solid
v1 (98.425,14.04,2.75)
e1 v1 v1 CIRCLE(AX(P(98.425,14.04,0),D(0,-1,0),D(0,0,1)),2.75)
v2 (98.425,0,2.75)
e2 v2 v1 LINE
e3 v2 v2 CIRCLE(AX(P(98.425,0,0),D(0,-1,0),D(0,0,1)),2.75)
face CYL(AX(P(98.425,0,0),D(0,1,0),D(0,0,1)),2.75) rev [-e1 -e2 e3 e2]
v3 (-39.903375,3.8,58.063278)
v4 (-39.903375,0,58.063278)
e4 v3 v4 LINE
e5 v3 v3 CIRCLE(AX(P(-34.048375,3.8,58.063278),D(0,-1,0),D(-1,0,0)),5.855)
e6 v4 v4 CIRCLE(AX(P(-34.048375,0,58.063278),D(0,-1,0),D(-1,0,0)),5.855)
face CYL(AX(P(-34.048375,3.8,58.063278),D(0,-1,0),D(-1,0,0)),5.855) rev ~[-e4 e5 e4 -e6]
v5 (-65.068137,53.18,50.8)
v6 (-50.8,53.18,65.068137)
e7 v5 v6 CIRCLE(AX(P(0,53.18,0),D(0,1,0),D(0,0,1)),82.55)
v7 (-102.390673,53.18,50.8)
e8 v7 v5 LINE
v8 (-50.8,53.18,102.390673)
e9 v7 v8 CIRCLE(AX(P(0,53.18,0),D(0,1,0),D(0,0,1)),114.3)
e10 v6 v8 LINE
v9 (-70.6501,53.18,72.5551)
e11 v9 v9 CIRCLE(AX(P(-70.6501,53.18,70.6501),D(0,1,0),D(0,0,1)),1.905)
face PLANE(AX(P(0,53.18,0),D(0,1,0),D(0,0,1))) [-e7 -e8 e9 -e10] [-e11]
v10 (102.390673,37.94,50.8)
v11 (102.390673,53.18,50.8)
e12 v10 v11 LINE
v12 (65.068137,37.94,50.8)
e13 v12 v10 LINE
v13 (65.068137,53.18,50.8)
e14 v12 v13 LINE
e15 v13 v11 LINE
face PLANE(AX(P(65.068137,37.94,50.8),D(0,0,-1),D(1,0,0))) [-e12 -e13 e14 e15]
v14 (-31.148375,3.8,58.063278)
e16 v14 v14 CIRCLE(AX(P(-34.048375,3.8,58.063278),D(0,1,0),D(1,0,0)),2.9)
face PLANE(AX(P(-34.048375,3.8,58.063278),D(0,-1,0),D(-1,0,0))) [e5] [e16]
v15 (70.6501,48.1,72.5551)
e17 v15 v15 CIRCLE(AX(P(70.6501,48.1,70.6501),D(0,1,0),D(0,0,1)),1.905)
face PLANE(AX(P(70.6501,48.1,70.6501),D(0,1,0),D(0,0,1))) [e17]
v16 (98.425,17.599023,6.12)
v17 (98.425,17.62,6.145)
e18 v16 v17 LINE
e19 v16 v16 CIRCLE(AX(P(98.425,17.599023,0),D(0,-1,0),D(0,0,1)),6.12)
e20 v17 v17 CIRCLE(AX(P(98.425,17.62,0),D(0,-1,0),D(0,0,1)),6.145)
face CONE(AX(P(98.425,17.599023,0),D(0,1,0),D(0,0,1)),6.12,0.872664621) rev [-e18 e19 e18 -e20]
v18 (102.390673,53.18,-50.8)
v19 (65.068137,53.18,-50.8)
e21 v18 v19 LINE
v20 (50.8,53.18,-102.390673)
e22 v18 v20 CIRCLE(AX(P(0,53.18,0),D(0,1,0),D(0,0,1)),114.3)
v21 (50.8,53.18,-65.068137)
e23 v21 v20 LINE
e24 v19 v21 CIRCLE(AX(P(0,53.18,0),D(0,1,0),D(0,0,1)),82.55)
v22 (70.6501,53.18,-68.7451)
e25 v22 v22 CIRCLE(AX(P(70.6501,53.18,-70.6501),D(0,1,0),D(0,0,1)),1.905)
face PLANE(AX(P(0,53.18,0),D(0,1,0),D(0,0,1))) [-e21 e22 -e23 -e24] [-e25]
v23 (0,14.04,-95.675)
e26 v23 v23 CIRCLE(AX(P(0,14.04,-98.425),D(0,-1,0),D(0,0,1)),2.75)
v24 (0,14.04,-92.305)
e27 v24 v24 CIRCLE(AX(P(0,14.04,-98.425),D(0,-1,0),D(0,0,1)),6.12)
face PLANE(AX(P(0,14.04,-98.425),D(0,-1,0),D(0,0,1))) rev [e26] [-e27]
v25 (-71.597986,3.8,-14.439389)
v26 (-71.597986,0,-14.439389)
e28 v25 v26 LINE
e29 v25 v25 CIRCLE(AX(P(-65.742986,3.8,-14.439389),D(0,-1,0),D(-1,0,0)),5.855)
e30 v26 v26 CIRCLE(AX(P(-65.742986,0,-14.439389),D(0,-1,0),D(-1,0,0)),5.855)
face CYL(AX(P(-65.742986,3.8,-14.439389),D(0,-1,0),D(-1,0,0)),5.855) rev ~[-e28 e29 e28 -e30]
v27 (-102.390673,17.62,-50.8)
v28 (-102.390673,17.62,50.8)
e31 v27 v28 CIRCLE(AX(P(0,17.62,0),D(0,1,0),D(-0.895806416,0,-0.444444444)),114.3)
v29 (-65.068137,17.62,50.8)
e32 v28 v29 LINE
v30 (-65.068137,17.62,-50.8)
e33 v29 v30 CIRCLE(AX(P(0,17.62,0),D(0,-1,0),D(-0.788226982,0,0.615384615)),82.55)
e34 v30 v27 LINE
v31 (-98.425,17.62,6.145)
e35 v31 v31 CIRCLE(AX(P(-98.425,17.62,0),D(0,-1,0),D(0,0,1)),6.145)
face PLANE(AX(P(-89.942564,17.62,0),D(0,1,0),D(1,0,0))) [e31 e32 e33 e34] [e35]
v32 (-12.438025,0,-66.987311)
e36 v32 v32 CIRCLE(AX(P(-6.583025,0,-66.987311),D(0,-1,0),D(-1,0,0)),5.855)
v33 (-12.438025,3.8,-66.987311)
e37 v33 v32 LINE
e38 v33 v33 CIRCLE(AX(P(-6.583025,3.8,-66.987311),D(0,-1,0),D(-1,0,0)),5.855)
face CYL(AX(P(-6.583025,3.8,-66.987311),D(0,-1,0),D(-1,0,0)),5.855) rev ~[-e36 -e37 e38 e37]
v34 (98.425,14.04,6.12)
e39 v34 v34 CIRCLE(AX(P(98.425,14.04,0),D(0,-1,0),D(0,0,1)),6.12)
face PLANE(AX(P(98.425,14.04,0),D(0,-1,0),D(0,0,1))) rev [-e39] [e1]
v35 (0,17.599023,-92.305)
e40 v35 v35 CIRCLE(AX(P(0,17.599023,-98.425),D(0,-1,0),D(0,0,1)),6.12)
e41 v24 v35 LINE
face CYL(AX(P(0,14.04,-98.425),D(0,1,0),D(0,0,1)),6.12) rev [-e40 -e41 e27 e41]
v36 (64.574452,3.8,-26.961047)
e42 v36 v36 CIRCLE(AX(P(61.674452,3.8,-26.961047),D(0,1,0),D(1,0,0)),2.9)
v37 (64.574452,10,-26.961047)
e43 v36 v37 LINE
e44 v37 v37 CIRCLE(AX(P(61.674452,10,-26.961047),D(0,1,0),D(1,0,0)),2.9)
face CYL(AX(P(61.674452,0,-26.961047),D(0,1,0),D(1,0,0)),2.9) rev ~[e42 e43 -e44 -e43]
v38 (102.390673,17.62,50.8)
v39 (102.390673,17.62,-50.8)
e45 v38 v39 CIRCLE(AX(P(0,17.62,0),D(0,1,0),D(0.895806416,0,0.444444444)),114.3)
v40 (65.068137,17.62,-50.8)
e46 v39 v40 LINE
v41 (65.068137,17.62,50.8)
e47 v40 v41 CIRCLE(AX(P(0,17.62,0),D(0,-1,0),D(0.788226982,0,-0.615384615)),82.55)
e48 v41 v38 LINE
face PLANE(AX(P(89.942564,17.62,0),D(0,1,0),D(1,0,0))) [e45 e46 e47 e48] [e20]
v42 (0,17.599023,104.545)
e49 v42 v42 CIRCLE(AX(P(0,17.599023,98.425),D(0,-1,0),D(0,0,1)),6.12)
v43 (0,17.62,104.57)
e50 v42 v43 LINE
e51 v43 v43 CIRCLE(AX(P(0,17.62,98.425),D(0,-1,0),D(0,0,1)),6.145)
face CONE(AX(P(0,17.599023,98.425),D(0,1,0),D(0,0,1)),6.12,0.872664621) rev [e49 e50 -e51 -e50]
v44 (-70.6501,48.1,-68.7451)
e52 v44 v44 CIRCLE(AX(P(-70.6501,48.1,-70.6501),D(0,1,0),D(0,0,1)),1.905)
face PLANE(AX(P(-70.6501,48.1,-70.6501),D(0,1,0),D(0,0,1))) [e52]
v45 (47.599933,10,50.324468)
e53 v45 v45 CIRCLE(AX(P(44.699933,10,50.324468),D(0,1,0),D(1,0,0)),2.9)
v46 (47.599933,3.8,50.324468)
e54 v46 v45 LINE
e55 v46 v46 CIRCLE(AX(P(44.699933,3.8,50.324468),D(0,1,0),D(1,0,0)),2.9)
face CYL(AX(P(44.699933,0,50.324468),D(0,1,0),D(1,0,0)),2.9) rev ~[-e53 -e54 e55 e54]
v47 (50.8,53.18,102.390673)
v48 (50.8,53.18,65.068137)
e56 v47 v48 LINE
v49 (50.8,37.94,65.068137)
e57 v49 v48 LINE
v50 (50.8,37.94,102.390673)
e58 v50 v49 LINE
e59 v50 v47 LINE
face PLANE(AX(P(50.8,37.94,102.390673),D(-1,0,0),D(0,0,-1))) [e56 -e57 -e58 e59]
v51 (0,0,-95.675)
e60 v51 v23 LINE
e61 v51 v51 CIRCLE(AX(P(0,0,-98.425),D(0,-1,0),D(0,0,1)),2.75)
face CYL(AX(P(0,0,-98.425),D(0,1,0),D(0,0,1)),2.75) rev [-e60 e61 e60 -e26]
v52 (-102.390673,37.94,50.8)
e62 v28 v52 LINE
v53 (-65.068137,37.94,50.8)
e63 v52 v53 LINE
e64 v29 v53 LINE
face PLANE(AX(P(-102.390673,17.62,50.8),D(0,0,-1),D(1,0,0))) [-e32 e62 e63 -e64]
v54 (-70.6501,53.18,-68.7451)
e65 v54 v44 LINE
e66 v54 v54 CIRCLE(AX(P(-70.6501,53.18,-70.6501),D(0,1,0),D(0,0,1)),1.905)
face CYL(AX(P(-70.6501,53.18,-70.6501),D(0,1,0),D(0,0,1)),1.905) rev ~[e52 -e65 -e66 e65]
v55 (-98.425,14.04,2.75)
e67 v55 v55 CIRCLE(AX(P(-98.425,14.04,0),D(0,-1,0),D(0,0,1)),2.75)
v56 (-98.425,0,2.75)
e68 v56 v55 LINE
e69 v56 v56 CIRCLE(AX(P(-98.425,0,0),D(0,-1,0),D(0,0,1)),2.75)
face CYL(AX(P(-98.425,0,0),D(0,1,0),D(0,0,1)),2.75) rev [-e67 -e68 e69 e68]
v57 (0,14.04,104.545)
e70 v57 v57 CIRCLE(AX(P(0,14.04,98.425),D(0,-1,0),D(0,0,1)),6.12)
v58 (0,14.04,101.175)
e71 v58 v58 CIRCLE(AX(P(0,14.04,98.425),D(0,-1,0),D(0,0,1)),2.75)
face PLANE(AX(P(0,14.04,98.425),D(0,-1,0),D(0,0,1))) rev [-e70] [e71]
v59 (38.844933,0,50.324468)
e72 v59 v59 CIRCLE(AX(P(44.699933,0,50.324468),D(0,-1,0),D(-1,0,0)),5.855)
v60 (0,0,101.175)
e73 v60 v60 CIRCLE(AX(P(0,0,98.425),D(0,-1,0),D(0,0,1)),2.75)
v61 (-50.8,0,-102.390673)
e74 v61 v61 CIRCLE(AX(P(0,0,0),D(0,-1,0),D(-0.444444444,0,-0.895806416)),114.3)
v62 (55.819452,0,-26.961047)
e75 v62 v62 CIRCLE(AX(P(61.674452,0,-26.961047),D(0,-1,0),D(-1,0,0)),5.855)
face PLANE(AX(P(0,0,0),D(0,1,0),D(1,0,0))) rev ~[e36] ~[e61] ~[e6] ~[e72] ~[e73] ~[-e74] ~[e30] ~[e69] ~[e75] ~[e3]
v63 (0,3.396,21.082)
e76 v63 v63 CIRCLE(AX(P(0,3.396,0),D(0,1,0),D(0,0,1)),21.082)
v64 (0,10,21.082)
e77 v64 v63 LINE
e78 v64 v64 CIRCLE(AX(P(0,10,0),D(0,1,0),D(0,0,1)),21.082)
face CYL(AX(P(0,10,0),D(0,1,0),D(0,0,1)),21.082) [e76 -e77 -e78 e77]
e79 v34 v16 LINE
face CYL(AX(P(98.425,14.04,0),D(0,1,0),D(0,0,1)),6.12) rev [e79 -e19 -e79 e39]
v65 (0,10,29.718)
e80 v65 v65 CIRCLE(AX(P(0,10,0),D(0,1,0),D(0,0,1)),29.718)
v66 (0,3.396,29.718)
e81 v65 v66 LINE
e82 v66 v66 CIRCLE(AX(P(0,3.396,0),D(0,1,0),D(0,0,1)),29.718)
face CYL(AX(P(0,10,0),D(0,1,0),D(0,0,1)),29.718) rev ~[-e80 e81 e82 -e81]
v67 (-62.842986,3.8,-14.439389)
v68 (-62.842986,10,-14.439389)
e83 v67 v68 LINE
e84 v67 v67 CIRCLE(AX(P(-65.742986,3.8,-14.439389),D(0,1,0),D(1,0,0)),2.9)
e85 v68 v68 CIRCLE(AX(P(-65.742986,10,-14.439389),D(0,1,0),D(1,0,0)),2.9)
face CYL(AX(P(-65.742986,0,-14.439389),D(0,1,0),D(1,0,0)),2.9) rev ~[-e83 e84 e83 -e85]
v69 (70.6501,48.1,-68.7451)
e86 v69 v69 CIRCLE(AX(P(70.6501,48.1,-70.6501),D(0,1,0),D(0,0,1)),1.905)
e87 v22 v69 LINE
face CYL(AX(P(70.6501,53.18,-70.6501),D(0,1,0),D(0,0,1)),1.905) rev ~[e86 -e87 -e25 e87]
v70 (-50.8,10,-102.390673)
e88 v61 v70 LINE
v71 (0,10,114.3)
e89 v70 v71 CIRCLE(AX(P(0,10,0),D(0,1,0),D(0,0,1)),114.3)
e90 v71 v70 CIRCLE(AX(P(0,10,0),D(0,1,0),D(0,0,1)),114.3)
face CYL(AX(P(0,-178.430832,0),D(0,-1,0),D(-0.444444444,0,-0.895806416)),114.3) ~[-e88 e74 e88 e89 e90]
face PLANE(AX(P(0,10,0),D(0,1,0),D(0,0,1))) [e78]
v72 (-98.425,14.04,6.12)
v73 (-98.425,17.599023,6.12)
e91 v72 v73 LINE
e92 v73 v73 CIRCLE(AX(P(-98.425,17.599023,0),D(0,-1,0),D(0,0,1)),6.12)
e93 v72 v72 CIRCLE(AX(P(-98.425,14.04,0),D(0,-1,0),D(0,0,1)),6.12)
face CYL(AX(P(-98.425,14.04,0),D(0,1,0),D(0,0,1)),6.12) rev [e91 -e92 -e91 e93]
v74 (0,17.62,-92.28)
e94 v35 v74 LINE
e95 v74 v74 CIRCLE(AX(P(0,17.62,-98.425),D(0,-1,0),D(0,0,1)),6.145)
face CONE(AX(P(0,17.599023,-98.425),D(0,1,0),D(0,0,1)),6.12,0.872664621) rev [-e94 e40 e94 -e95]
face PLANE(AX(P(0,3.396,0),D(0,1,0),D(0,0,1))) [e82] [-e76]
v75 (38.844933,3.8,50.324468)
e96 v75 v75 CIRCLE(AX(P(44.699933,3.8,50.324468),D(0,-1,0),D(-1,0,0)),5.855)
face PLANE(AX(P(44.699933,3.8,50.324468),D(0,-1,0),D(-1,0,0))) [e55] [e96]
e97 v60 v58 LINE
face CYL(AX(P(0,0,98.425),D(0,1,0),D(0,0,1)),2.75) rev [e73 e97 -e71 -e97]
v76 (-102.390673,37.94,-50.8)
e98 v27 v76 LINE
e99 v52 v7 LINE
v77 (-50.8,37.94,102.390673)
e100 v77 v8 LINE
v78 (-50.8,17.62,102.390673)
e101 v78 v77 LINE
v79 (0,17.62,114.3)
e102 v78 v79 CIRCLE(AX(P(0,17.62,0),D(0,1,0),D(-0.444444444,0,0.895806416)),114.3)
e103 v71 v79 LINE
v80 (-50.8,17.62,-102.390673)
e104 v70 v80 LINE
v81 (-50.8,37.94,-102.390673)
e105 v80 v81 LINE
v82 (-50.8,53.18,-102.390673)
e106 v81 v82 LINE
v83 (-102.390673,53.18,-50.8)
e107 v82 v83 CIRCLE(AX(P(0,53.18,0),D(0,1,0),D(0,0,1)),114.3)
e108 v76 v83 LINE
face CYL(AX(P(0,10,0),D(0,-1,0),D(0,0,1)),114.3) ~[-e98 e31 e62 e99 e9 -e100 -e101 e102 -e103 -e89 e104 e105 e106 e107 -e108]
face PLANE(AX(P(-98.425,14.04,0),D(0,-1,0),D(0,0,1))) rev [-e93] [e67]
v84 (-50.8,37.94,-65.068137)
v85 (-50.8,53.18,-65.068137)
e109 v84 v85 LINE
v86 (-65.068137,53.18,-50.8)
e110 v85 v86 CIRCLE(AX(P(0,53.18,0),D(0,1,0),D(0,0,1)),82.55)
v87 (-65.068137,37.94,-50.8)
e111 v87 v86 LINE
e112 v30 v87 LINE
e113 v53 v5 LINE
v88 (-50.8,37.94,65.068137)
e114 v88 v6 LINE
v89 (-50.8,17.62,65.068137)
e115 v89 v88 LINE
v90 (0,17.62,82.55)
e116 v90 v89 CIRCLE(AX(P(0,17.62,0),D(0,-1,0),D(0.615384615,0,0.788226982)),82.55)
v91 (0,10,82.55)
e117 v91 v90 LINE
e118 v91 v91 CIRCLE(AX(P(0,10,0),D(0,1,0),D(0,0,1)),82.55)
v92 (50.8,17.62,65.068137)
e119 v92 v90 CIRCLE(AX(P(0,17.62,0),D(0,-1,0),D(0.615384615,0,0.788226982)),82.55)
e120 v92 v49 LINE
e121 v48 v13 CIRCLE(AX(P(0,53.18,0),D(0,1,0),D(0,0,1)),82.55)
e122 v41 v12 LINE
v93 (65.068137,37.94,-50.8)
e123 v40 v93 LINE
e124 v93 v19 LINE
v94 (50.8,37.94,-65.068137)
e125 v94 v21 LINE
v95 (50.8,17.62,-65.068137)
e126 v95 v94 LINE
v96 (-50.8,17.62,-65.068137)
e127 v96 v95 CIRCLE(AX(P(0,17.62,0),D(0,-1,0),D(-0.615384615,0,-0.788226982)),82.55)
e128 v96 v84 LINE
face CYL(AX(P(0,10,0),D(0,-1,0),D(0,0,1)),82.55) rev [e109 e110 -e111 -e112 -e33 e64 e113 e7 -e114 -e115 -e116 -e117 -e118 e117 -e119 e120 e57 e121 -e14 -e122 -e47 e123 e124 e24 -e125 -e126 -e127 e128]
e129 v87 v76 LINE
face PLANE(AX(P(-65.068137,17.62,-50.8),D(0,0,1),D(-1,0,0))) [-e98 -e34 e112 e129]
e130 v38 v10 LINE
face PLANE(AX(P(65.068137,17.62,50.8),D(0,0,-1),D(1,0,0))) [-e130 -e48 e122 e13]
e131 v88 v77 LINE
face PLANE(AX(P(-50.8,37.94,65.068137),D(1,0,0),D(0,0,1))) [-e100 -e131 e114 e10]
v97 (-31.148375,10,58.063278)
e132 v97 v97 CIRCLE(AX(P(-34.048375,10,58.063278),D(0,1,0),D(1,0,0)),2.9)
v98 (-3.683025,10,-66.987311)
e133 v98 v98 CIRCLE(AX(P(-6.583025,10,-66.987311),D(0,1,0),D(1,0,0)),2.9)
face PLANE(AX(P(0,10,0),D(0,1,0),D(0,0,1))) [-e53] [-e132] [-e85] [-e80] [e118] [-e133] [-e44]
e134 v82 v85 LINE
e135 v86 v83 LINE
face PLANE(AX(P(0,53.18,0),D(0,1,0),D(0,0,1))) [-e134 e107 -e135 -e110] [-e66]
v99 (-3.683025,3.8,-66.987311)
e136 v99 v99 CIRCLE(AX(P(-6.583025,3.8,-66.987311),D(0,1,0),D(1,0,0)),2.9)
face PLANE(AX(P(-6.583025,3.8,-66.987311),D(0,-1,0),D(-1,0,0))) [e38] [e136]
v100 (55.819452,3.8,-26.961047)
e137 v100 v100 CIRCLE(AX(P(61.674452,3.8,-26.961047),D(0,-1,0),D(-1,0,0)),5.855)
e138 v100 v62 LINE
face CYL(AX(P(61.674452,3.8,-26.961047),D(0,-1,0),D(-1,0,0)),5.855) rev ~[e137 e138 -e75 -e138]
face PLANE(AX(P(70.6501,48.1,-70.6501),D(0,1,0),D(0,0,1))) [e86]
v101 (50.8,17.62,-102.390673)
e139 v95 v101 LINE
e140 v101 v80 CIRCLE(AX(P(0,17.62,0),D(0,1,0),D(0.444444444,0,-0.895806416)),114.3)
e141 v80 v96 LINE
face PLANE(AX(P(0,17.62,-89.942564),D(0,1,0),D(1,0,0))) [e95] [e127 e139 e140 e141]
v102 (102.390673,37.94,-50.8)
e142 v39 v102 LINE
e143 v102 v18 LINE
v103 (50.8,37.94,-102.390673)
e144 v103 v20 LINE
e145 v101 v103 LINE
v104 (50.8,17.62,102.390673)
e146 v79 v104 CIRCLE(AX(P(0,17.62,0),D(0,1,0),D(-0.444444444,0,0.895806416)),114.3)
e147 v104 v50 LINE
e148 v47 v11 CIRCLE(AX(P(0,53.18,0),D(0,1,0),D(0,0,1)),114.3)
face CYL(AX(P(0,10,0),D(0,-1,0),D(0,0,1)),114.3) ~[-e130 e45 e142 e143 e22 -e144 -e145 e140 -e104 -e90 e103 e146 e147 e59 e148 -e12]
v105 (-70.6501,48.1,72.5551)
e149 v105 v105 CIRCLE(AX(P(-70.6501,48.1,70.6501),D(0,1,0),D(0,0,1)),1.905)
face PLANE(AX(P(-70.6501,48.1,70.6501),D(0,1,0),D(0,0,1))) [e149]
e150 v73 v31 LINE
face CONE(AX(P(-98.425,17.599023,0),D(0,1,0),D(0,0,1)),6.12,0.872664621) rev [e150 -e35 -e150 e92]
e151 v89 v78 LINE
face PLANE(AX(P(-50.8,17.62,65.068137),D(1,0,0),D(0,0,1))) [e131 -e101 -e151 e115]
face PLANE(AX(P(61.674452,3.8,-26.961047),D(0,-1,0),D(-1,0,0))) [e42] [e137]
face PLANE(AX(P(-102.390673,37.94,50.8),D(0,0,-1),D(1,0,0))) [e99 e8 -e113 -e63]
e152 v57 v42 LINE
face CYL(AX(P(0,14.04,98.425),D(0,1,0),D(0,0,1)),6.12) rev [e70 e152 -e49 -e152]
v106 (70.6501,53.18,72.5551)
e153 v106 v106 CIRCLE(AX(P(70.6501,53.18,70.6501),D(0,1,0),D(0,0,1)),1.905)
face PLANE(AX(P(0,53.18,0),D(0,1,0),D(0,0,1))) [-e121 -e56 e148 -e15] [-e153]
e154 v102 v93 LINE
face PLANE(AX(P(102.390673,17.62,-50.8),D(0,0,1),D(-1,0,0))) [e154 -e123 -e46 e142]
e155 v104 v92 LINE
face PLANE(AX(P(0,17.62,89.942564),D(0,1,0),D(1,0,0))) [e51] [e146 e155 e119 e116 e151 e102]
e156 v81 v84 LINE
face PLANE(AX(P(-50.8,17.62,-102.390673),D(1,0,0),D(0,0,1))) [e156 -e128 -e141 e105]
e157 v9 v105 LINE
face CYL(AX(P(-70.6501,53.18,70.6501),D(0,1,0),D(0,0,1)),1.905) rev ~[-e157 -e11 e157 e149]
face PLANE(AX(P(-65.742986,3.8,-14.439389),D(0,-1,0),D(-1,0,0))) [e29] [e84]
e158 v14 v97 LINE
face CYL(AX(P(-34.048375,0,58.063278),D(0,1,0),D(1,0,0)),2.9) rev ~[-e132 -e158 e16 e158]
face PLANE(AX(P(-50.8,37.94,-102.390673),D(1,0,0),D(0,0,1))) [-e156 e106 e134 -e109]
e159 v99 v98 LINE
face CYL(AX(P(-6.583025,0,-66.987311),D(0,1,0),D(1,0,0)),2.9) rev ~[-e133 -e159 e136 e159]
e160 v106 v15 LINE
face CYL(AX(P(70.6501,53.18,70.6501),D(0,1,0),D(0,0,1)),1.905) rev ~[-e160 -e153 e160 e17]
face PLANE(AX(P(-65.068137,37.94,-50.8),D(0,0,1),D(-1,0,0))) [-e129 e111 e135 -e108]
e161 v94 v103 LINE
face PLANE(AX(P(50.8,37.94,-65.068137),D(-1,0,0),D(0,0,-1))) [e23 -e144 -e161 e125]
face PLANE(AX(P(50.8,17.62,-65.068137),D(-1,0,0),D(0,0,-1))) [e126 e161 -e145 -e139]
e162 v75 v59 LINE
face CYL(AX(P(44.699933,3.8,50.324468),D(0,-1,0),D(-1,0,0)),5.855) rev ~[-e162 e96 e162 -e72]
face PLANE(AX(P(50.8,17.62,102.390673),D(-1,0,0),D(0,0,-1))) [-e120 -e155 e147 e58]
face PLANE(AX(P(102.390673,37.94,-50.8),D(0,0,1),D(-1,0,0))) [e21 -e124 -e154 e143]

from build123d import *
from build123d.topology import SkipClean

# Parameters (mm, degrees)
SKETCH1_W                                        = 300
SKETCH1_H                                        = 300
BOSS_EXTRUDE1_DEPTH                              = 10
SKETCH2_R                                        = 127
BOSS_EXTRUDE2_DEPTH                              = 53.594
SKETCH4_R                                        = 122
CUT_EXTRUDE1_DEPTH                               = 3
CBORE_FOR_M6_HEX_HEAD_BOLT1_D                    = 6.6
CBORE_FOR_M6_HEX_HEAD_BOLT1_CBORE_D              = 14.55
CBORE_FOR_M6_HEX_HEAD_BOLT1_CBORE_DEPTH          = 4.38
FILLET1_R                                        = 10
FILLET2_R                                        = 2
SKETCH8_R                                        = 122
CUT_EXTRUDE2_DEPTH                               = 50.594
SKETCH10_R                                       = 114.3
SKETCH10_R_2                                     = 82.55
BOSS_EXTRUDE3_DEPTH                              = 43.18
CUT_EXTRUDE3_DEPTH                               = 25.4
CUT_EXTRUDE3_DEPTH_BACK                          = 15.24
SKETCH12_R                                       = 1.905
CUT_EXTRUDE4_DEPTH                               = 5.08
CBORE_FOR_M5_HEX_HEAD_MACHINE_SCREW1_D           = 5.8
CBORE_FOR_M5_HEX_HEAD_MACHINE_SCREW1_CBORE_D     = 11.71
CBORE_FOR_M5_HEX_HEAD_MACHINE_SCREW1_CBORE_DEPTH = 3.8
SKETCH16_R                                       = 29.718
SKETCH16_R_2                                     = 21.082
CUT_EXTRUDE5_DEPTH                               = 6.604
CUT_EXTRUDE6_DEPTH                               = 219.797433408
CUT_EXTRUDE6_DEPTH_BACK                          = 219.797433408
SKETCH17_R                                       = 254
SKETCH17_R_2                                     = 127
CUT_EXTRUDE7_START                               = -15.24
CUT_EXTRUDE7_DEPTH                               = 15.24
CUT_EXTRUDE8_START                               = -20.32
CUT_EXTRUDE8_DEPTH                               = 20.32
CBORE_FOR_M5_HEX_HEAD_BOLT1_AT_2_COUNT           = 2
CBORE_FOR_M5_HEX_HEAD_BOLT1_AT_2_PITCH           = 196.85
CBORE_FOR_M5_HEX_HEAD_BOLT1_AT_3_COUNT           = 2
CBORE_FOR_M5_HEX_HEAD_BOLT1_AT_3_PITCH           = 139.193969877
CBORE_FOR_M5_HEX_HEAD_BOLT1_AT_4_COUNT           = 2
CBORE_FOR_M5_HEX_HEAD_BOLT1_AT_4_PITCH           = 139.193969877
CUT_EXTRUDE9_DEPTH                               = 188.430832138
CUT_EXTRUDE9_DEPTH_BACK                          = 188.430832138
SKETCH22_R                                       = 139.7
SKETCH22_R_2                                     = 114.3


with BuildPart() as part:
    # Sketch1 → Boss-Extrude1 (new body)
    with BuildSketch(Plane(origin=(0, 0, 0), x_dir=(1, 0, 0), z_dir=(0, 1, 0))):
        Rectangle(SKETCH1_W, SKETCH1_H)
    extrude(amount=BOSS_EXTRUDE1_DEPTH)

    # Sketch2 → Boss-Extrude2 (add)
    with BuildSketch(Plane(origin=(0, 10, 0), x_dir=(1, 0, 0), z_dir=(0, 1, 0))):
        with Locations(Location((0, 0, 0), (0, 0, 270))):
            Circle(SKETCH2_R)
    extrude(amount=BOSS_EXTRUDE2_DEPTH)

    # Sketch4 → Cut-Extrude1 (cut)
    with BuildSketch(Plane(origin=(0, 63.594, 0), x_dir=(1, 0, 0), z_dir=(0, 1, 0))):
        with Locations(Location((0, 0, 0), (0, 0, 270))):
            Circle(SKETCH4_R)
    extrude(amount=-CUT_EXTRUDE1_DEPTH, mode=Mode.SUBTRACT)

    # CBORE for M6 Hex Head Bolt1 (through all)
    with Locations(Plane(origin=(0, 10, 0), x_dir=(1, 0, 0), z_dir=(0, 1, 0))):
        with Locations((-101.6, 101.6), (101.6, 101.6), (101.6, -101.6), (-101.6, -101.6)):
            CounterBoreHole(CBORE_FOR_M6_HEX_HEAD_BOLT1_D / 2, CBORE_FOR_M6_HEX_HEAD_BOLT1_CBORE_D / 2, CBORE_FOR_M6_HEX_HEAD_BOLT1_CBORE_DEPTH)

    # Fillet1
    fillet1_edges = [part.edges().sort_by_distance(p)[0] for p in [
        (150, 5, 150),
        (-150, 5, 150),
        (-150, 5, -150),
        (150, 5, -150),
    ]]
    fillet(fillet1_edges, radius=FILLET1_R)

    # Fillet2
    fillet2_edges = [part.edges().sort_by_distance(p)[0] for p in [
        (150, 10, 0),
        (0, 10, 150),
        (0, 10, -150),
        (-150, 10, 0),
        (-147.071067812, 10, 147.071067812),
        (147.071067812, 10, -147.071067812),
        (-147.071067812, 10, -147.071067812),
        (147.071067812, 10, 147.071067812),
    ]]
    fillet(fillet2_edges, radius=FILLET2_R)

    # Sketch8 → Cut-Extrude2 (cut)
    with BuildSketch(Plane(origin=(0, 60.594, 0), x_dir=(1, 0, 0), z_dir=(0, 1, 0))):
        with Locations(Location((0, 0, 0), (0, 0, 270))):
            Circle(SKETCH8_R)
    extrude(amount=-CUT_EXTRUDE2_DEPTH, mode=Mode.SUBTRACT)

    # Sketch10 → Boss-Extrude3 (add)
    with BuildSketch(Plane(origin=(0, 10, 0), x_dir=(1, 0, 0), z_dir=(0, 1, 0))):
        with Locations(Location((0, 0, 0), (0, 0, 270))):
            Circle(SKETCH10_R)
        with Locations(Location((0, 0, 0), (0, 0, 270))):
            Circle(SKETCH10_R_2, mode=Mode.SUBTRACT)
    extrude(amount=BOSS_EXTRUDE3_DEPTH)

    # Sketch11 → Cut-Extrude3 (cut, two sides: drawn at the far end of the back side and taken through both)
    with BuildSketch(Plane(origin=(0, 53.18, 0), x_dir=(1, 0, 0), z_dir=(0, 1, 0)).offset(-CUT_EXTRUDE3_DEPTH_BACK)):
        Polygon((25.4, 25.4), (139.7, 25.4), (139.7, -25.4), (25.4, -25.4), (25.4, -139.7), (-25.4, -139.7), (-25.4, -25.4), (-139.7, -25.4), (-139.7, 25.4), (-25.4, 25.4), (-25.4, 139.7), (25.4, 139.7), align=None)
    extrude(amount=CUT_EXTRUDE3_DEPTH + CUT_EXTRUDE3_DEPTH_BACK, mode=Mode.SUBTRACT)

    # Sketch12 → Cut-Extrude4 (cut)
    with BuildSketch(Plane(origin=(0, 53.18, 0), x_dir=(1, 0, 0), z_dir=(0, 1, 0))):
        with Locations(Location((70.6501, 70.6501, 0), (0, 0, 270))):
            Circle(SKETCH12_R)
        with Locations(Location((-70.6501, 70.6501, 0), (0, 0, 270))):
            Circle(SKETCH12_R)
        with Locations(Location((-70.6501, -70.6501, 0), (0, 0, 270))):
            Circle(SKETCH12_R)
        with Locations(Location((70.6501, -70.6501, 0), (0, 0, 270))):
            Circle(SKETCH12_R)
    extrude(amount=-CUT_EXTRUDE4_DEPTH, mode=Mode.SUBTRACT)

    # CBORE for M5 Hex Head Machine Screw1 (through all)
    with Locations(Plane(origin=(0, 0, 0), x_dir=(-1, 0, 0), z_dir=(0, -1, 0))):
        with Locations((-44.699932873, -50.324468216), (-61.674452331, 26.961046525), (6.583025095, 66.98731134), (65.742985588, 14.439388698), (34.048374521, -58.063278348)):
            CounterBoreHole(CBORE_FOR_M5_HEX_HEAD_MACHINE_SCREW1_D / 2, CBORE_FOR_M5_HEX_HEAD_MACHINE_SCREW1_CBORE_D / 2, CBORE_FOR_M5_HEX_HEAD_MACHINE_SCREW1_CBORE_DEPTH)

    # Sketch16 → Cut-Extrude5 (cut)
    with BuildSketch(Plane(origin=(0, 10, 0), x_dir=(1, 0, 0), z_dir=(0, 1, 0))):
        with Locations(Location((0, 0, 0), (0, 0, 270))):
            Circle(SKETCH16_R)
        with Locations(Location((0, 0, 0), (0, 0, 270))):
            Circle(SKETCH16_R_2, mode=Mode.SUBTRACT)
    extrude(amount=-CUT_EXTRUDE5_DEPTH, mode=Mode.SUBTRACT)

    # Sketch17 → Cut-Extrude6 (cut, two sides: drawn at the far end of the back side and taken through both)
    with SkipClean():  # the faces are left unmerged after this step: merging them gives an invalid solid
        with BuildSketch(Plane(origin=(0, 10, 0), x_dir=(1, 0, 0), z_dir=(0, 1, 0)).offset(-CUT_EXTRUDE6_DEPTH_BACK)):
            Circle(SKETCH17_R)
            with Locations(Location((0, 0, 0), (0, 0, 101.536959033))):
                Circle(SKETCH17_R_2, mode=Mode.SUBTRACT)
        extrude(amount=CUT_EXTRUDE6_DEPTH + CUT_EXTRUDE6_DEPTH_BACK, mode=Mode.SUBTRACT)

    # Sketch18 → Cut-Extrude7 (cut)
    with SkipClean():  # the faces are left unmerged after this step: merging them gives an invalid solid
        with BuildSketch(Plane(origin=(0, 53.18, 0), x_dir=(1, 0, 0), z_dir=(0, 1, 0)).offset(CUT_EXTRUDE7_START)):
            with BuildLine():
                ThreePointArc((-65.068137364, -50.8), (-81.288406004, -14.376979843), (-78.545162168, 25.4))
                Line((-78.545162168, 25.4), (-111.44204772, 25.4))
                ThreePointArc((-111.44204772, 25.4), (-113.502062341, -13.482278897), (-102.390673403, -50.8))
                Line((-102.390673403, -50.8), (-65.068137364, -50.8))
            make_face()
            with BuildLine():
                ThreePointArc((-78.545162168, 25.4), (-72.921087146, 38.691311032), (-65.068137364, 50.8))
                Line((-65.068137364, 50.8), (-102.390673403, 50.8))
                ThreePointArc((-102.390673403, 50.8), (-107.667999683, 38.367849096), (-111.44204772, 25.4))
                Line((-111.44204772, 25.4), (-78.545162168, 25.4))
            make_face()
            with BuildLine():
                ThreePointArc((-50.8, 65.068137364), (-38.691311032, 72.921087146), (-25.4, 78.545162168))
                Line((-25.4, 78.545162168), (-25.4, 111.44204772))
                ThreePointArc((-25.4, 111.44204772), (-38.367849096, 107.667999683), (-50.8, 102.390673403))
                Line((-50.8, 102.390673403), (-50.8, 65.068137364))
            make_face()
            with BuildLine():
                ThreePointArc((-25.4, 78.545162168), (-12.856892374, 81.542644172), (0, 82.55))
                Line((0, 82.55), (0, 114.3))
                ThreePointArc((0, 114.3), (-12.78013978, 113.583264732), (-25.4, 111.44204772))
                Line((-25.4, 111.44204772), (-25.4, 78.545162168))
            make_face()
            with BuildLine():
                Line((0, 114.3), (0, 82.55))
                ThreePointArc((0, 82.55), (26.861941112, 78.057277814), (50.8, 65.068137364))
                Line((50.8, 65.068137364), (50.8, 102.390673403))
                ThreePointArc((50.8, 102.390673403), (26.088656826, 111.282846769), (0, 114.3))
            make_face()
            with BuildLine():
                Line((102.390673403, 50.8), (65.068137364, 50.8))
                ThreePointArc((65.068137364, 50.8), (82.55, 0), (65.068137364, -50.8))
                Line((65.068137364, -50.8), (102.390673403, -50.8))
                ThreePointArc((102.390673403, -50.8), (111.282846769, -26.088656826), (114.3, 0))
                ThreePointArc((114.3, 0), (111.282846769, 26.088656826), (102.390673403, 50.8))
            make_face()
            with BuildLine():
                Line((50.8, -102.390673403), (50.8, -65.068137364))
                ThreePointArc((50.8, -65.068137364), (0, -82.55), (-50.8, -65.068137364))
                Line((-50.8, -65.068137364), (-50.8, -102.390673403))
                ThreePointArc((-50.8, -102.390673403), (0, -114.3), (50.8, -102.390673403))
            make_face()
        extrude(amount=CUT_EXTRUDE7_DEPTH, mode=Mode.SUBTRACT)

    # Sketch19 → Cut-Extrude8 (cut)
    with SkipClean():  # the faces are left unmerged after this step: merging them gives an invalid solid
        with BuildSketch(Plane(origin=(0, 37.94, 0), x_dir=(1, 0, 0), z_dir=(0, 1, 0)).offset(CUT_EXTRUDE8_START)):
            with BuildLine():
                Line((50.8, -102.390673403), (50.8, -65.068137364))
                ThreePointArc((50.8, -65.068137364), (0, -82.55), (-50.8, -65.068137364))
                Line((-50.8, -65.068137364), (-50.8, -102.390673403))
                ThreePointArc((-50.8, -102.390673403), (0, -114.3), (50.8, -102.390673403))
            make_face()
            with BuildLine():
                Line((102.390673403, 50.8), (65.068137364, 50.8))
                ThreePointArc((65.068137364, 50.8), (82.55, 0), (65.068137364, -50.8))
                Line((65.068137364, -50.8), (102.390673403, -50.8))
                ThreePointArc((102.390673403, -50.8), (114.3, 0), (102.390673403, 50.8))
            make_face()
            with BuildLine():
                Line((-50.8, 102.390673403), (-50.8, 65.068137364))
                ThreePointArc((-50.8, 65.068137364), (0, 82.55), (50.8, 65.068137364))
                Line((50.8, 65.068137364), (50.8, 102.390673403))
                ThreePointArc((50.8, 102.390673403), (0, 114.3), (-50.8, 102.390673403))
            make_face()
            with BuildLine():
                Line((-102.390673403, -50.8), (-65.068137364, -50.8))
                ThreePointArc((-65.068137364, -50.8), (-82.55, 0), (-65.068137364, 50.8))
                Line((-65.068137364, 50.8), (-102.390673403, 50.8))
                ThreePointArc((-102.390673403, 50.8), (-114.3, 0), (-102.390673403, -50.8))
            make_face()
        extrude(amount=CUT_EXTRUDE8_DEPTH, mode=Mode.SUBTRACT)

    # Sketch21 → CBORE for M5 Hex Head Bolt1 (revolve, cut)
    with SkipClean():  # the faces are left unmerged after this step: merging them gives an invalid solid
        with BuildSketch(Plane(origin=(-98.425, 17.62, 0), x_dir=(0, 0, 1), z_dir=(1, 0, 0))):
            Polygon((0, 0), (0, 17.62), (2.75, 17.62), (2.75, 3.58), (6.12, 3.58), (6.12, 0.020977491), (6.145, 0), align=None)
        cbore_for_m5_hex_head_bolt1 = revolve(axis=Axis((-98.425, 23.97, 0), (0, -1, 0)), mode=Mode.SUBTRACT)

    # CBORE for M5 Hex Head Bolt1 at 2: CBORE for M5 Hex Head Bolt1 ×2
    with SkipClean():  # the faces are left unmerged after this step: merging them gives an invalid solid
        with Locations(*[(i * CBORE_FOR_M5_HEX_HEAD_BOLT1_AT_2_PITCH, 0, 0) for i in range(1, CBORE_FOR_M5_HEX_HEAD_BOLT1_AT_2_COUNT)]):
            add(cbore_for_m5_hex_head_bolt1, mode=Mode.SUBTRACT)

    # CBORE for M5 Hex Head Bolt1 at 3: CBORE for M5 Hex Head Bolt1 ×2
    with SkipClean():  # the faces are left unmerged after this step: merging them gives an invalid solid
        with Locations(*[Vector(0.7071067811865476, 0, -0.7071067811865476) * (i * CBORE_FOR_M5_HEX_HEAD_BOLT1_AT_3_PITCH) for i in range(1, CBORE_FOR_M5_HEX_HEAD_BOLT1_AT_3_COUNT)]):
            add(cbore_for_m5_hex_head_bolt1, mode=Mode.SUBTRACT)

    # CBORE for M5 Hex Head Bolt1 at 4: CBORE for M5 Hex Head Bolt1 ×2
    with SkipClean():  # the faces are left unmerged after this step: merging them gives an invalid solid
        with Locations(*[Vector(0.7071067811865476, 0, 0.7071067811865476) * (i * CBORE_FOR_M5_HEX_HEAD_BOLT1_AT_4_PITCH) for i in range(1, CBORE_FOR_M5_HEX_HEAD_BOLT1_AT_4_COUNT)]):
            add(cbore_for_m5_hex_head_bolt1, mode=Mode.SUBTRACT)

    # Sketch22 → Cut-Extrude9 (cut, two sides: drawn at the far end of the back side and taken through both)
    with SkipClean():  # the faces are left unmerged after this step: merging them gives an invalid solid
        with BuildSketch(Plane(origin=(0, 10, 0), x_dir=(1, 0, 0), z_dir=(0, 1, 0)).offset(-CUT_EXTRUDE9_DEPTH_BACK)):
            Circle(SKETCH22_R)
            with Locations(Location((0, 0, 0), (0, 0, 116.387799961))):
                Circle(SKETCH22_R_2, mode=Mode.SUBTRACT)
        extrude(amount=CUT_EXTRUDE9_DEPTH + CUT_EXTRUDE9_DEPTH_BACK, mode=Mode.SUBTRACT)


solid = part.part
